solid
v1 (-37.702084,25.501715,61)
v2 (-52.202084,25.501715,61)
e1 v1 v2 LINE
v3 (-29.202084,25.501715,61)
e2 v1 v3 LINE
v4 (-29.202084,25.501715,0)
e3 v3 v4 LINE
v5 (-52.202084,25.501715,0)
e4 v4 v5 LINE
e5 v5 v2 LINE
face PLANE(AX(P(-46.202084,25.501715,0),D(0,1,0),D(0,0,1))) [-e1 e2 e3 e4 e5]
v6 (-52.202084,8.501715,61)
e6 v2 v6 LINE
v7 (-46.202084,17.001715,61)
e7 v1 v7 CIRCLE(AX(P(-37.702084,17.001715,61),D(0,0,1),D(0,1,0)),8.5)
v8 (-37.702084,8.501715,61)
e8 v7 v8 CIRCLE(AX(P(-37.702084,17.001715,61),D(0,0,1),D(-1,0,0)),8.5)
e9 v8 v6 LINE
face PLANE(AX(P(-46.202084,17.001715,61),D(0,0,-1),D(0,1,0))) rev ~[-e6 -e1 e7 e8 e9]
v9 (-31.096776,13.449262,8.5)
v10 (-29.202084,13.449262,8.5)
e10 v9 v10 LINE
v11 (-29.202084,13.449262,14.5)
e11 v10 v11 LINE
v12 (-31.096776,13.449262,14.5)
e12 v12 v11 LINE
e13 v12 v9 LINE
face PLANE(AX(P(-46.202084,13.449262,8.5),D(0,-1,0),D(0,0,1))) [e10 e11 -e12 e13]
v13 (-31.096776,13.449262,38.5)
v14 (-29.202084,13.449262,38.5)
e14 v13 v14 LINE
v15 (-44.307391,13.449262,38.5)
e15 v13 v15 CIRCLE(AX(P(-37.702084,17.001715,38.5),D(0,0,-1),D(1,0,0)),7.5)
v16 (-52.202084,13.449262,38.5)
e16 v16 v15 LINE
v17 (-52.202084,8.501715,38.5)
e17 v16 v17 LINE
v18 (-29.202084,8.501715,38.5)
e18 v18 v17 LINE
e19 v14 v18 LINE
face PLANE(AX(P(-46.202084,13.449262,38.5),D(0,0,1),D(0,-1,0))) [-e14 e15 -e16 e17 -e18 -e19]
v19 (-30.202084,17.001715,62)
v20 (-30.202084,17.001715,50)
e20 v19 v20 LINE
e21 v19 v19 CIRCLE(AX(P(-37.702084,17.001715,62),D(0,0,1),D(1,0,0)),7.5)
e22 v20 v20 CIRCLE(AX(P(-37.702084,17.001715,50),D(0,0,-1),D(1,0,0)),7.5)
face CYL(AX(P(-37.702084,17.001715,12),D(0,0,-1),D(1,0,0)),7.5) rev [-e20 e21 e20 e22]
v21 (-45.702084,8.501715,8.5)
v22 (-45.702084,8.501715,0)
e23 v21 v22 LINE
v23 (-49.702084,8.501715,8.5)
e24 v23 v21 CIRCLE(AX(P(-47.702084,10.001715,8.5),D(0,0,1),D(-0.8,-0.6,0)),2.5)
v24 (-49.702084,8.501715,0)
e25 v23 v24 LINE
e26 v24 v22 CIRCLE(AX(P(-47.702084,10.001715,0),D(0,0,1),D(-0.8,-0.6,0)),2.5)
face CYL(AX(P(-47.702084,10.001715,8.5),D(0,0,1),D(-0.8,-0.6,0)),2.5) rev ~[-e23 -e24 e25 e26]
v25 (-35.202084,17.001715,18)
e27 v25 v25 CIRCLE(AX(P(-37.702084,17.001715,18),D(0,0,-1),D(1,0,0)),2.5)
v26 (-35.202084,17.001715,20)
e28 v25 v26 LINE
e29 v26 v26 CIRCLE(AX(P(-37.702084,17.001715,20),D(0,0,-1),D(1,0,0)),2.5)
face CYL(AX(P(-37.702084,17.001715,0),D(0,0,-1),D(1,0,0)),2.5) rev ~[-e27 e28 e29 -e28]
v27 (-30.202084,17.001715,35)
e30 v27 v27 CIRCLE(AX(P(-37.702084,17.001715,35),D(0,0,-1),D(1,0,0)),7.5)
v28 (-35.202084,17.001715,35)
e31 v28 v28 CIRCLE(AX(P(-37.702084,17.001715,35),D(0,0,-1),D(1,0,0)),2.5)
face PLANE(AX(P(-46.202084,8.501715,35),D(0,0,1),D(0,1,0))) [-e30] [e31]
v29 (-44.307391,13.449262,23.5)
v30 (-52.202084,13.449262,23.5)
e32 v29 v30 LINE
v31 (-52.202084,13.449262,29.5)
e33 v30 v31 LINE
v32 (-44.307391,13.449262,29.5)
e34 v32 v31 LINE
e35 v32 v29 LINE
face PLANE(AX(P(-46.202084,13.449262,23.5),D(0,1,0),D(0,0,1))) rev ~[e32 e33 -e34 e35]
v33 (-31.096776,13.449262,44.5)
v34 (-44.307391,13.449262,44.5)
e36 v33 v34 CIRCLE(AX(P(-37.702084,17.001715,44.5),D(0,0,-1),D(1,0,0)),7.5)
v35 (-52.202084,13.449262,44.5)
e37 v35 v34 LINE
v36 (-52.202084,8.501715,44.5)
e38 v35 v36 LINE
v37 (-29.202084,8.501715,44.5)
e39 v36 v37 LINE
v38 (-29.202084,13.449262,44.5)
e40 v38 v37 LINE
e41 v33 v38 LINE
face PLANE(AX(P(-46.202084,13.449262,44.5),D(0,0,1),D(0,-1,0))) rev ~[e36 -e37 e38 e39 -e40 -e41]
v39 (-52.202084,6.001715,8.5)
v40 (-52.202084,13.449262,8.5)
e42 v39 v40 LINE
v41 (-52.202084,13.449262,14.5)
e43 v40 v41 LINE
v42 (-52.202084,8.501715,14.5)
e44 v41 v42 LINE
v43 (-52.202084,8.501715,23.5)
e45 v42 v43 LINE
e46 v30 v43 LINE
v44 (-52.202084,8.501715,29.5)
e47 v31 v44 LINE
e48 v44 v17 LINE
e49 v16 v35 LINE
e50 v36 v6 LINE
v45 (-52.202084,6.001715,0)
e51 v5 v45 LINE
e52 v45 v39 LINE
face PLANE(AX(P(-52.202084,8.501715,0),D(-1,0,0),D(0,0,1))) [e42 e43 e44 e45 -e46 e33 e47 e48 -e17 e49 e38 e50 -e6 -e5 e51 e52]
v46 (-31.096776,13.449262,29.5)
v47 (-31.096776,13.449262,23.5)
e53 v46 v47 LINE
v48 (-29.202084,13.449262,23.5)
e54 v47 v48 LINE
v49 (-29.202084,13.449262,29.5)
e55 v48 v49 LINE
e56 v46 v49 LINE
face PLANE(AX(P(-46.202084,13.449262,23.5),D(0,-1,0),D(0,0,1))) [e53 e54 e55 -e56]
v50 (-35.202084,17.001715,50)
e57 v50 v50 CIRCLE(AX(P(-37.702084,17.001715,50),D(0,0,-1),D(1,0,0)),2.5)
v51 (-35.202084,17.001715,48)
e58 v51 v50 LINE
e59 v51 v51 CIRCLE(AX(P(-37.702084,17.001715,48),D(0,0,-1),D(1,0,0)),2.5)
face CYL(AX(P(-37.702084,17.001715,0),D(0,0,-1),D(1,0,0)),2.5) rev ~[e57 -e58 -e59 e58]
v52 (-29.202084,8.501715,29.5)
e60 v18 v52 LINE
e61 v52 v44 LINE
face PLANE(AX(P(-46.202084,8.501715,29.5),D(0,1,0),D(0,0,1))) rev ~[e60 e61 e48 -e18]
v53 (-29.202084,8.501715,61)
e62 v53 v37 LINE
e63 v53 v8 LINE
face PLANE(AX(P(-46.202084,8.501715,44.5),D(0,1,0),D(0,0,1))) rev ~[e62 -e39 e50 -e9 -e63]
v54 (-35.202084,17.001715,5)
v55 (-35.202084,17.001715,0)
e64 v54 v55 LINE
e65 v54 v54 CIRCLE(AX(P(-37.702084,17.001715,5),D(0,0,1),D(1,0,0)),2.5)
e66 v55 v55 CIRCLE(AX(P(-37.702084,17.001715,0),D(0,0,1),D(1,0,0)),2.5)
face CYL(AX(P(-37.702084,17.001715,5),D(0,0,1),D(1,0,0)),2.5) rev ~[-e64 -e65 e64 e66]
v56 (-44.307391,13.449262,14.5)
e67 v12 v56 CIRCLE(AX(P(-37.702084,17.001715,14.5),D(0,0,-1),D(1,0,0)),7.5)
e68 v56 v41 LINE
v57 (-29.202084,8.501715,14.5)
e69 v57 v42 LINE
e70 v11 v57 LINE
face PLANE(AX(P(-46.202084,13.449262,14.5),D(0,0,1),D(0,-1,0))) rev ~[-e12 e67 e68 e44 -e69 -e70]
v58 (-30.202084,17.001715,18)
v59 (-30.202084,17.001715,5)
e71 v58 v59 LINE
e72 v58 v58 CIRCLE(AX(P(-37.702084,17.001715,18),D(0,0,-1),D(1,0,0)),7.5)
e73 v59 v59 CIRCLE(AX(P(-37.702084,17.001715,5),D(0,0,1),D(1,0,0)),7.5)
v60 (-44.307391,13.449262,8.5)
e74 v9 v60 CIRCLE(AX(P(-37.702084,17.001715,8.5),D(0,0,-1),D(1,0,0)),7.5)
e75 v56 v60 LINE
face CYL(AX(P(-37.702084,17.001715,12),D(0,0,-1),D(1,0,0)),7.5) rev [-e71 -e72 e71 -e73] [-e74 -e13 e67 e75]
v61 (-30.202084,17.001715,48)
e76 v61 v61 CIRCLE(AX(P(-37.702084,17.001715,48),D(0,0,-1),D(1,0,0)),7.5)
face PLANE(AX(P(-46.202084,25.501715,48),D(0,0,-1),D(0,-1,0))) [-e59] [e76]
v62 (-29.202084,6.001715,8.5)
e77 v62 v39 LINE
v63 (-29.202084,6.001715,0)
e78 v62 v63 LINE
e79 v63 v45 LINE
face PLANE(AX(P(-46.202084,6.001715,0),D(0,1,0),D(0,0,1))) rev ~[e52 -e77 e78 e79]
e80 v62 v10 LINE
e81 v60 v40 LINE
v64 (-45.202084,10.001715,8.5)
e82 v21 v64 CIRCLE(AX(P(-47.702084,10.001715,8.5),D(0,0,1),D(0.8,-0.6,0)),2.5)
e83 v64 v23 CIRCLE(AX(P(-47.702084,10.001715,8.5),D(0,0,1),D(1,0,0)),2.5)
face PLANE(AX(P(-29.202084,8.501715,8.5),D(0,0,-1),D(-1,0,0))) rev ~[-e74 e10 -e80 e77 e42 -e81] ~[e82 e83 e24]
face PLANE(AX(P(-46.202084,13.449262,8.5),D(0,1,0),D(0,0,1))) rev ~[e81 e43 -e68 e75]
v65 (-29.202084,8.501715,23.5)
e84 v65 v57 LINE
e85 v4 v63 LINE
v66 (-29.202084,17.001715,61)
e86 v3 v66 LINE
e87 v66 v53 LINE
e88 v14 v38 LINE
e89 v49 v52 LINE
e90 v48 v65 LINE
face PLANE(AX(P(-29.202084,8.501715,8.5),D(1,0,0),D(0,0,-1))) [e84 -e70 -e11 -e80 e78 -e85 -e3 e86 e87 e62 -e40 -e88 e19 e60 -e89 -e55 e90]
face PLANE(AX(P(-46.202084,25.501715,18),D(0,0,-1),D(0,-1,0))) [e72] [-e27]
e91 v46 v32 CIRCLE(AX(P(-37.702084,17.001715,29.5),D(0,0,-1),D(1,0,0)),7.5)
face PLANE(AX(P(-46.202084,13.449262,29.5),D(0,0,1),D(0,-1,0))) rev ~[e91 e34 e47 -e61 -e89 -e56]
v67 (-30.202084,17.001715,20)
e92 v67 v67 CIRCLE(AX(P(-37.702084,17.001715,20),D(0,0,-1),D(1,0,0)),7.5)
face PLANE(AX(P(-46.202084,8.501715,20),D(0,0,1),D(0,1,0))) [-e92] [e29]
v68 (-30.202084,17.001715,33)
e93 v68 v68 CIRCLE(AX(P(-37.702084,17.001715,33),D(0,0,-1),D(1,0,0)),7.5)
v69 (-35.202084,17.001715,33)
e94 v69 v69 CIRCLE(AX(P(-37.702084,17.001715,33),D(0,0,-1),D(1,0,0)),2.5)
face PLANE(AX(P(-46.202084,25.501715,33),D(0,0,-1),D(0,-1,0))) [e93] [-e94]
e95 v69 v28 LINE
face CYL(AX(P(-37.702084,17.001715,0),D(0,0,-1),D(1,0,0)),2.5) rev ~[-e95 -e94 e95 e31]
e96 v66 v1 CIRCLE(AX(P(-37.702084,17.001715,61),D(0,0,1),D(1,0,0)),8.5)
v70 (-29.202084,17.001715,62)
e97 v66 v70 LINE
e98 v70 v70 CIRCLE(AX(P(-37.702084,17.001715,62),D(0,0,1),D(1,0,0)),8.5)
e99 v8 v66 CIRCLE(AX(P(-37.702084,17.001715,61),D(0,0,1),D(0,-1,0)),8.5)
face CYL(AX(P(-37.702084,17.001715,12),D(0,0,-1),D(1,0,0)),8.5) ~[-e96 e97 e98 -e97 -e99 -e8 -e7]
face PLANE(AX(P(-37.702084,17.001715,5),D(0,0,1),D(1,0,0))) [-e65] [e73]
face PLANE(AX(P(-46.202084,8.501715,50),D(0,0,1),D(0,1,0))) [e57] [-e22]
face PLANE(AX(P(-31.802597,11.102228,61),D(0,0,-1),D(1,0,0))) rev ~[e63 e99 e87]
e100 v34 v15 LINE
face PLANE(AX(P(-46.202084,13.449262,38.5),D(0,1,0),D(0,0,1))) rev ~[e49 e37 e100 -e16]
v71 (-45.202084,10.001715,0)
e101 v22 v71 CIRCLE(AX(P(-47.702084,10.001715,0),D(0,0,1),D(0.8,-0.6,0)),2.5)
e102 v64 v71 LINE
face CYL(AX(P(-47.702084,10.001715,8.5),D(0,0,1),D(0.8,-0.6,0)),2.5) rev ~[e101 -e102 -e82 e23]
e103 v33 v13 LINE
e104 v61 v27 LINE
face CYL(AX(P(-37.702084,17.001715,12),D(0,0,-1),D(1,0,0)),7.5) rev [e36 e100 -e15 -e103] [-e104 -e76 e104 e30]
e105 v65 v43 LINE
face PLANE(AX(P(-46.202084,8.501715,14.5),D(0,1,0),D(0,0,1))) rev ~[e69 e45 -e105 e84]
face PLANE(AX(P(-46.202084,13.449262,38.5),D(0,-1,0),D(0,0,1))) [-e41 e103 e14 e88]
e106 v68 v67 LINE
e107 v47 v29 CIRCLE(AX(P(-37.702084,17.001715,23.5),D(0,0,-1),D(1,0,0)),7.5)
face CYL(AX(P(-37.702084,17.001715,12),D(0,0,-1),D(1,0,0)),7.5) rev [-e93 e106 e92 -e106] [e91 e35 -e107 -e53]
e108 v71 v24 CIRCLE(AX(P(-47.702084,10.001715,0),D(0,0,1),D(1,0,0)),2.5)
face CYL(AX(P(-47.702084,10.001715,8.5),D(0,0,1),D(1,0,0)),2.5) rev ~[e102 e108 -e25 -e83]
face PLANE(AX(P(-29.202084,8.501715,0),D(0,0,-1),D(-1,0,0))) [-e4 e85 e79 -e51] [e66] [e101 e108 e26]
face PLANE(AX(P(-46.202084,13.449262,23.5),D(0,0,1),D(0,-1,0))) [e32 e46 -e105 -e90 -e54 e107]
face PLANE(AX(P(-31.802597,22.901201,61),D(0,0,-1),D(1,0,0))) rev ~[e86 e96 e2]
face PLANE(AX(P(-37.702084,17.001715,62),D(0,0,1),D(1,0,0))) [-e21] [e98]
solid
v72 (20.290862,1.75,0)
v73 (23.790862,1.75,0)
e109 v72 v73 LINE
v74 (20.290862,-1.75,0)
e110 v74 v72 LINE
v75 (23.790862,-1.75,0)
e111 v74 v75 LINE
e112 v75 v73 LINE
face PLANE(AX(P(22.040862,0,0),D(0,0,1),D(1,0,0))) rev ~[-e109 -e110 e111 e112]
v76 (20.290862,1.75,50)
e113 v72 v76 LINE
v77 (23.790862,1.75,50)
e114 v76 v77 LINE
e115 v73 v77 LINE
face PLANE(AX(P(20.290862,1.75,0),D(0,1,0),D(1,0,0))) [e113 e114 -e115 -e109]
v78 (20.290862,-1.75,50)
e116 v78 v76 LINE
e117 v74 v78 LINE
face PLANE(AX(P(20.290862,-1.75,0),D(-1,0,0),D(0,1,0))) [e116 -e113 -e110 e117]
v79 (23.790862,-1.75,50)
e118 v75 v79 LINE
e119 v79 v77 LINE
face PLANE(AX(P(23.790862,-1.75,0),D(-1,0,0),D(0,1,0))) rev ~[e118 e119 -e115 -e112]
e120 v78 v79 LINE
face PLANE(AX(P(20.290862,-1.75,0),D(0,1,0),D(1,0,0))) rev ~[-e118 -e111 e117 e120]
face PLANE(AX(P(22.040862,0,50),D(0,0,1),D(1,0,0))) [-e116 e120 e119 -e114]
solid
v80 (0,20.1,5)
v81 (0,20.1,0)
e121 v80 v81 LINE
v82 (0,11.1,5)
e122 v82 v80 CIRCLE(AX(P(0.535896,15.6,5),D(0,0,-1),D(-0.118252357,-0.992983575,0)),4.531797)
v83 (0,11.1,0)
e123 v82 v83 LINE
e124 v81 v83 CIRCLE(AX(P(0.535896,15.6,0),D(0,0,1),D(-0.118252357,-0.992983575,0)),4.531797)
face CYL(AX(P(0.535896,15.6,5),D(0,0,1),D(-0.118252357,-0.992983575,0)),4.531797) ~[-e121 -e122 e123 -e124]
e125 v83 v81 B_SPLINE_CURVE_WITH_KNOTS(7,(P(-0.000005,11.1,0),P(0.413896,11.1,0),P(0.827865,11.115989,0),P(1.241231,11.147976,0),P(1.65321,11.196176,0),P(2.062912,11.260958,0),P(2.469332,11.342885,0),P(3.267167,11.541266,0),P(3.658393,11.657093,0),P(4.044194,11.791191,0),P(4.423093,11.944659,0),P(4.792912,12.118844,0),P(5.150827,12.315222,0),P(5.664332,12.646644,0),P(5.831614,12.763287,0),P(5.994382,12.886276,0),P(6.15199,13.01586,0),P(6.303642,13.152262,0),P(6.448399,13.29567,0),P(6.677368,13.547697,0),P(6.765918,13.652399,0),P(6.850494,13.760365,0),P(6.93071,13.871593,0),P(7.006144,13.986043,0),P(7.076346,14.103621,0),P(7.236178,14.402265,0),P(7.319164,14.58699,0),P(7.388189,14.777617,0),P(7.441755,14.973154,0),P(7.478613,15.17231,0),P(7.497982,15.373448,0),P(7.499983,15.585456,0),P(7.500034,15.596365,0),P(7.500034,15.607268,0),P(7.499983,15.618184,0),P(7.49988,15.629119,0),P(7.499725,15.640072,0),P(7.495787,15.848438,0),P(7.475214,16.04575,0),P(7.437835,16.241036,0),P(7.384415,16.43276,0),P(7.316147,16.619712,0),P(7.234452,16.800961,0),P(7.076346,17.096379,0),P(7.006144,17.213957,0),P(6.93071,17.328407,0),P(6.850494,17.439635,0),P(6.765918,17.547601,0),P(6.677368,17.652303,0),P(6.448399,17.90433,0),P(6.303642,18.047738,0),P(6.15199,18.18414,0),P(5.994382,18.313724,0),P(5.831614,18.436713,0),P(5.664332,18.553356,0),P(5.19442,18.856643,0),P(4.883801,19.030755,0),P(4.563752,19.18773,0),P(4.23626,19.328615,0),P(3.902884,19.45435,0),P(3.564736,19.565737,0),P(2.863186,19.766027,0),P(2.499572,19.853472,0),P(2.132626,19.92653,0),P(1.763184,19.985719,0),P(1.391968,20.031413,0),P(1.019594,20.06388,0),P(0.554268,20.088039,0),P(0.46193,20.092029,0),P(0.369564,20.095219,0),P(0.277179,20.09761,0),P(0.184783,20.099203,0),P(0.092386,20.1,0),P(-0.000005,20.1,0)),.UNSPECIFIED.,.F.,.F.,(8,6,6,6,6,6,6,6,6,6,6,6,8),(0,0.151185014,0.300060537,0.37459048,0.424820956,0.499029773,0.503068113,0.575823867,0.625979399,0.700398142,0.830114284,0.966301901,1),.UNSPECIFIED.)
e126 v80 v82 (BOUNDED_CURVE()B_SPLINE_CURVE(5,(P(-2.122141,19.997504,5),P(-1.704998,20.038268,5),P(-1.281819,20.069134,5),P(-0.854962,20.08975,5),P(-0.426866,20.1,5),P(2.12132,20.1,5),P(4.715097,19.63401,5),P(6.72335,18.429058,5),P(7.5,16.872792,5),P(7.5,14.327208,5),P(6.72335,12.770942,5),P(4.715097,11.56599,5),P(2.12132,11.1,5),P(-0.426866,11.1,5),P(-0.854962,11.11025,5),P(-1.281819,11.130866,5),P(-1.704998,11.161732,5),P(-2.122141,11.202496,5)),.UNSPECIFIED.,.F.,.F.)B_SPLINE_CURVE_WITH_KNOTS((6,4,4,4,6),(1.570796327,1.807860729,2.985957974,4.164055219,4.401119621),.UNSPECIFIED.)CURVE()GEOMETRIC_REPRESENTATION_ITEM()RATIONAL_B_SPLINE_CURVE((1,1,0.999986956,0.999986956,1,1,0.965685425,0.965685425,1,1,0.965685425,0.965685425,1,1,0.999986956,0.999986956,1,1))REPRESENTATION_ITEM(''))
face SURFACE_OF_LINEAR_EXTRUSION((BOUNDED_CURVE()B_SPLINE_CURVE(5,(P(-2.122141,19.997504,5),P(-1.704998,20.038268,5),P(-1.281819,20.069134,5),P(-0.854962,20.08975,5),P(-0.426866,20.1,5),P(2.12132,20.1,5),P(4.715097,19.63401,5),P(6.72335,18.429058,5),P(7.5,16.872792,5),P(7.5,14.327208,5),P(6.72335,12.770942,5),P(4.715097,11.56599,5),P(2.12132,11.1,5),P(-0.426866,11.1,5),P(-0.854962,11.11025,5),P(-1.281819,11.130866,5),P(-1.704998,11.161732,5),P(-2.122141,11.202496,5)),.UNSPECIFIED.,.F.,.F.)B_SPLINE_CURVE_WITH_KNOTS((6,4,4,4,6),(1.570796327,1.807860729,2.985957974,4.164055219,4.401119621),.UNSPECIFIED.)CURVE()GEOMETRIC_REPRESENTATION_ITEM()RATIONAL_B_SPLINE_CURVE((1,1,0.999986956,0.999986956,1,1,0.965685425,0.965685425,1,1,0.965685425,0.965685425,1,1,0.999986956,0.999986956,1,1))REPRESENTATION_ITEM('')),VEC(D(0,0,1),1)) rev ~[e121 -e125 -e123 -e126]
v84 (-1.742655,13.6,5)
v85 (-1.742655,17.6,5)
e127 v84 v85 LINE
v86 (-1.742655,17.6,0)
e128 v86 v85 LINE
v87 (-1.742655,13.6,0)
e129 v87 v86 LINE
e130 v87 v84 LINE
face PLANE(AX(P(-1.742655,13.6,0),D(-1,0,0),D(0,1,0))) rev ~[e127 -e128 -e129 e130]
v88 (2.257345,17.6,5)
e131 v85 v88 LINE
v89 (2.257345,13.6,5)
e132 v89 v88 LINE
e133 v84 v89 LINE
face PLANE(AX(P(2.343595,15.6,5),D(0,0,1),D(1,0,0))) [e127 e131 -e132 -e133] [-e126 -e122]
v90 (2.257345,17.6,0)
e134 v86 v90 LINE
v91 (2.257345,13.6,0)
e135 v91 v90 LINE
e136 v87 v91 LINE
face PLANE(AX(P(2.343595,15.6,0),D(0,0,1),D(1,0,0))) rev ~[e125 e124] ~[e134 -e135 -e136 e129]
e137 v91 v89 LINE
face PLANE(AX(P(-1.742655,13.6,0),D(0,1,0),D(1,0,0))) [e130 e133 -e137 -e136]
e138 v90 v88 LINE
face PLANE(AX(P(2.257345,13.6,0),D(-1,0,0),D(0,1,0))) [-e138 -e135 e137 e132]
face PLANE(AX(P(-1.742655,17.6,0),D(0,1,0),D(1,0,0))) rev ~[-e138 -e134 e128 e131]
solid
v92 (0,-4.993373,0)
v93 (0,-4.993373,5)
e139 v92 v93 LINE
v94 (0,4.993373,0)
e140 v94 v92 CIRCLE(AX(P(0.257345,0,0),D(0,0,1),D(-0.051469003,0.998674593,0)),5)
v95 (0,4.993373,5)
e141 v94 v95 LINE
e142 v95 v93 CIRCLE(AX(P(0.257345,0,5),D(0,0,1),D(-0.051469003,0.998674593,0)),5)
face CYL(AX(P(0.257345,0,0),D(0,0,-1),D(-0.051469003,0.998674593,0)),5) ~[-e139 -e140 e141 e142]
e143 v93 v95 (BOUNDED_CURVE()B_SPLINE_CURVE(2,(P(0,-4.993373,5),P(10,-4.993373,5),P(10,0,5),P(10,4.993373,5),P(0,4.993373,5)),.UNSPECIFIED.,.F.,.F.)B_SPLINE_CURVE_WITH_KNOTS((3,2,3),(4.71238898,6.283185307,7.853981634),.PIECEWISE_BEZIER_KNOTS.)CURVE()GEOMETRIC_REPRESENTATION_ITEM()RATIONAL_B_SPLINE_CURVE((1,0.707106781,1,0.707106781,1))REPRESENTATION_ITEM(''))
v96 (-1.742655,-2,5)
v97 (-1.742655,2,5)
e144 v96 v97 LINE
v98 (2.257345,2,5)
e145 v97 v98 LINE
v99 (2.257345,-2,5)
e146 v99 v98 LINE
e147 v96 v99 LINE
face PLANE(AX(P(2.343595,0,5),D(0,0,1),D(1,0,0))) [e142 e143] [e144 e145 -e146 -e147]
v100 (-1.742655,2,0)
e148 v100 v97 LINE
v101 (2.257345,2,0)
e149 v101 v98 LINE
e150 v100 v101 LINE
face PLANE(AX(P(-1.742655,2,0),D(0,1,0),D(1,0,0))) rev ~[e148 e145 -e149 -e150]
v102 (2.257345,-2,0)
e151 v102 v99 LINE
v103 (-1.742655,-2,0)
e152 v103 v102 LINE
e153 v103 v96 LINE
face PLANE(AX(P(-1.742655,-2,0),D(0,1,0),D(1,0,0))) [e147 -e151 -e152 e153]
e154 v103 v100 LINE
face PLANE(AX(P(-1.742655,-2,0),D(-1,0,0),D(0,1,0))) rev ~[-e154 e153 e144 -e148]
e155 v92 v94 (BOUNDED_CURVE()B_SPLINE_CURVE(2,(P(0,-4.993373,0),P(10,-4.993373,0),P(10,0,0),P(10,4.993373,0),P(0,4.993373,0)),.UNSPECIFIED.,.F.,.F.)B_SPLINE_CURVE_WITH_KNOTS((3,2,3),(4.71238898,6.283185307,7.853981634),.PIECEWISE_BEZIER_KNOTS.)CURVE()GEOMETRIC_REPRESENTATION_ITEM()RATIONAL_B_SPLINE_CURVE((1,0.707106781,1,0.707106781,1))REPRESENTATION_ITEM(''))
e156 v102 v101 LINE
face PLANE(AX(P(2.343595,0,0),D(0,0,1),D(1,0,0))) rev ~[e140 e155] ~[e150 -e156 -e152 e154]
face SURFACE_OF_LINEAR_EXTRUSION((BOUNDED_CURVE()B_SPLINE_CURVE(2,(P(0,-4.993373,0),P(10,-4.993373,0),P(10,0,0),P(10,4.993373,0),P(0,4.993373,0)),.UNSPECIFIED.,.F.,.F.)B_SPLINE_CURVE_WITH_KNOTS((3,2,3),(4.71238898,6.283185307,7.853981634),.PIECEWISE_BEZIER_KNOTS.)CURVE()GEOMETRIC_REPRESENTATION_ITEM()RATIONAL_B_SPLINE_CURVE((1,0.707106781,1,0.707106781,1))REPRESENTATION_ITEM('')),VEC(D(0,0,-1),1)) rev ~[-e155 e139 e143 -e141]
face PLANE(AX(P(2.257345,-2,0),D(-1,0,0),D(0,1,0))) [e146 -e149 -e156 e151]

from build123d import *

# Parameters (mm, degrees)
F0_W           = 4
F0_H           = 4
F1_DEPTH       = 5
F2_W           = 3.5
F2_H           = 3.5
F3_DEPTH       = 50
F6_DEPTH       = 25
F7_R           = 7.5
F8_DEPTH       = 5
F9_R           = 2.5
F10_DEPTH      = 5.0010001
F10_DEPTH_BACK = 45.001
F11_R          = 8.5
F11_R_2        = 7.5
F12_DEPTH      = 7
F12_DEPTH_BACK = 5
F14_DEPTH      = 11
F16_DEPTH      = 50
F17_DEPTH      = 50
F19_DEPTH      = 17
F18_W          = 4.9475478008
F18_H          = 6
F20_DEPTH      = 25
F21_R          = 2.5
F22_DEPTH      = 62.001
F24_W          = 40.9381370991
F24_H          = 29.6913962811
F24_W_2        = 36.4394430071
F24_H_2        = 22.0436118543
F25_DEPTH      = 25
F26_DEPTH      = 5
F28_DEPTH      = 6
F30_DEPTH      = 2.5
F31_DEPTH      = 8.5010001


with BuildPart() as f1:
    # F0 (on Top) → F1 (new body)
    with BuildSketch(Plane.XY):
        with BuildLine():
            ThreePointArc((0, 4.9933729626), (-4.742654986, 0), (0, -4.9933729626))
            add(Edge.make_bspline(
                [(0, -4.9933729626), (10, -4.9933729626), (10, 0), (10, 4.9933729626), (0, 4.9933729626)],
                knots=[4.7123889804, 4.7123889804, 4.7123889804, 6.2831853072, 6.2831853072, 7.853981634, 7.853981634, 7.853981634], degree=2, weights=[1, 0.7071067812, 1, 0.7071067812, 1]))
        make_face()
        with Locations((0.257345014, 0)):
            Rectangle(F0_W, F0_H, mode=Mode.SUBTRACT)
    extrude(amount=F1_DEPTH)


with BuildPart() as f3:
    # F2 (on Top) → F3 (new body)
    with BuildSketch(Plane.XY):
        with Locations((22.040861788, 0)):
            Rectangle(F2_W, F2_H)
    extrude(amount=F3_DEPTH)


with BuildPart() as f4_1:
    # F4: copy of F1
    add(f1.part.moved(Location((0, 15.6, 0))))

    # F5 (on face) → F6 (cut)
    with BuildSketch(Plane.XY.offset(5)):
        with BuildLine():
            add(Edge.make_bspline(
                [(0, 11.1), (10, 11.1), (10, 15.6)],
                knots=[4.7123889804, 4.7123889804, 4.7123889804, 6.2831853072, 6.2831853072, 6.2831853072], degree=2, weights=[1, 0.7071067812, 1]))
            add(Edge.make_bspline(
                [(10, 15.6), (10, 20.1), (0, 20.1)],
                knots=[0, 0, 0, 1.5707963268, 1.5707963268, 1.5707963268], degree=2, weights=[1, 0.7071067812, 1]))
            add(Edge.make_bspline(
                [(0, 11.1), (7.5, 11.1), (7.5, 15.6), (7.5, 20.1), (0, 20.1)],
                knots=[4.7123889804, 4.7123889804, 4.7123889804, 6.2831853072, 6.2831853072, 7.853981634, 7.853981634, 7.853981634], degree=2, weights=[1, 0.7071067812, 1, 0.7071067812, 1]))
        make_face()
        with BuildLine():
            add(Edge.make_bspline(
                [(10, 15.6), (10, 20.1), (0, 20.1)],
                knots=[0, 0, 0, 1.5707963268, 1.5707963268, 1.5707963268], degree=2, weights=[1, 0.7071067812, 1]))
            add(Edge.make_bspline(
                [(10, 15.6), (10, 20.5933729626), (0, 20.5933729626)],
                knots=[6.2831853072, 6.2831853072, 6.2831853072, 7.853981634, 7.853981634, 7.853981634], degree=2, weights=[1, 0.7071067812, 1]))
            ThreePointArc((0, 20.5933729626), (-1.0943150122, 20.4138358066), (-2.1221413846, 19.9975043466))
            add(Edge.make_bspline(
                [(0, 20.1), (-1.0732937978, 20.1), (-2.1221413846, 19.9975043466)],
                knots=[1.5707963268, 1.5707963268, 1.5707963268, 1.7846364763, 1.7846364763, 1.7846364763], degree=2, weights=[1, 0.9942894921, 1]))
        make_face()
        with BuildLine():
            add(Edge.make_bspline(
                [(0, 10.6066270374), (10, 10.6066270374), (10, 15.6)],
                knots=[4.7123889804, 4.7123889804, 4.7123889804, 6.2831853072, 6.2831853072, 6.2831853072], degree=2, weights=[1, 0.7071067812, 1]))
            add(Edge.make_bspline(
                [(0, 11.1), (10, 11.1), (10, 15.6)],
                knots=[4.7123889804, 4.7123889804, 4.7123889804, 6.2831853072, 6.2831853072, 6.2831853072], degree=2, weights=[1, 0.7071067812, 1]))
            add(Edge.make_bspline(
                [(-2.1221413846, 11.2024956534), (-1.0732937978, 11.1), (0, 11.1)],
                knots=[4.4985488309, 4.4985488309, 4.4985488309, 4.7123889804, 4.7123889804, 4.7123889804], degree=2, weights=[1, 0.9942894921, 1]))
            ThreePointArc((-2.1221413846, 11.2024956534), (-1.0943150122, 10.7861641934), (0, 10.6066270374))
        make_face()
        with BuildLine():
            ThreePointArc((0, 11.1), (-3.9959013346, 15.6), (0, 20.1))
            add(Edge.make_bspline(
                [(0, 20.1), (-1.0732937978, 20.1), (-2.1221413846, 19.9975043466)],
                knots=[1.5707963268, 1.5707963268, 1.5707963268, 1.7846364763, 1.7846364763, 1.7846364763], degree=2, weights=[1, 0.9942894921, 1]))
            ThreePointArc((-2.1221413846, 19.9975043466), (-4.742654986, 15.6), (-2.1221413846, 11.2024956534))
            add(Edge.make_bspline(
                [(-2.1221413846, 11.2024956534), (-1.0732937978, 11.1), (0, 11.1)],
                knots=[4.4985488309, 4.4985488309, 4.4985488309, 4.7123889804, 4.7123889804, 4.7123889804], degree=2, weights=[1, 0.9942894921, 1]))
        make_face()
    extrude(amount=-F6_DEPTH, mode=Mode.SUBTRACT)


with BuildPart() as f8:
    # F7 (on Top) → F8 (new body)
    with BuildSketch(Plane.XY):
        with Locations((-37.7020835876, 17.0017145574)):
            Circle(F7_R)
    extrude(amount=F8_DEPTH)

    # F9 (on face) → F10 (cut, two sides)
    with BuildSketch(Plane.XY.offset(5)) as f10_sk:
        with Locations((-37.7020835876, 17.0017145574)):
            Circle(F9_R)
    extrude(amount=-F10_DEPTH, mode=Mode.SUBTRACT)
    extrude(f10_sk.sketch, amount=F10_DEPTH_BACK, mode=Mode.SUBTRACT)

    # F11 (on face) → F12 (join, two sides)
    with BuildSketch(Plane.XY.offset(5)) as f12_sk:
        with Locations((-37.7020835876, 17.0017145574)):
            Circle(F11_R)
        with Locations((-37.7020835876, 17.0017145574)):
            Circle(F11_R_2, mode=Mode.SUBTRACT)
    extrude(amount=F12_DEPTH)
    extrude(f12_sk.sketch, amount=-F12_DEPTH_BACK)

    # F13 (on face) → F14 (join)
    with BuildSketch(Plane(origin=(0, 0, 0), x_dir=(1, 0, 0), z_dir=(0, 0, -1))):
        with BuildLine():
            Line((-37.7020835876, -25.5017145574), (-29.2020835876, -25.5017145574))
            Line((-29.2020835876, -25.5017145574), (-29.2020835876, -17.0017145574))
            ThreePointArc((-29.2020835876, -17.0017145574), (-31.6916759476, -23.0121221975), (-37.7020835876, -25.5017145574))
        make_face()
        with BuildLine():
            Line((-46.2020835876, -25.5017145574), (-37.7020835876, -25.5017145574))
            ThreePointArc((-37.7020835876, -25.5017145574), (-43.7124912277, -23.0121221975), (-46.2020835876, -17.0017145574))
            Line((-46.2020835876, -17.0017145574), (-46.2020835876, -25.5017145574))
        make_face()
        with BuildLine():
            ThreePointArc((-37.7020835876, -8.5017145574), (-31.6916759476, -10.9913069173), (-29.2020835876, -17.0017145574))
            Line((-29.2020835876, -17.0017145574), (-29.2020835876, -8.5017145574))
            Line((-29.2020835876, -8.5017145574), (-37.7020835876, -8.5017145574))
        make_face()
        with BuildLine():
            Line((-46.2020835876, -8.5017145574), (-46.2020835876, -17.0017145574))
            ThreePointArc((-46.2020835876, -17.0017145574), (-43.7124912277, -10.9913069173), (-37.7020835876, -8.5017145574))
            Line((-37.7020835876, -8.5017145574), (-46.2020835876, -8.5017145574))
        make_face()
    extrude(amount=-F14_DEPTH)

    # F16 (add): a face of the model
    f16_faces = [f8.faces().sort_by_distance(p)[0] for p in [
        (-45.961667282, 17.0017145574, 12),
    ]]
    extrude(f16_faces, amount=F16_DEPTH)

    # F17 (add): faces of the model
    f17_faces = [f8.faces().sort_by_distance(p)[0] for p in [
        (-44.3034561066, 23.6030870764, 11),
        (-44.3034561066, 10.4003420384, 11),
        (-31.1007110687, 10.4003420384, 11),
        (-31.1007110687, 23.6030870764, 11),
    ]]
    extrude(f17_faces, amount=F17_DEPTH)

    # F18 (on face) → F19 (join)
    with BuildSketch(Plane(origin=(-46.2020835876, 0, 0), x_dir=(0, -1, 0), z_dir=(-1, 0, 0))):
        Polygon((-13.4492623582, 18), (-8.5017145574, 18), (-8.5017145574, 20), (-13.4492623582, 20), (-25.5017145574, 20), (-25.5017145574, 18), align=None)
        Polygon((-13.4492623582, 48), (-8.5017145574, 48), (-8.5017145574, 50), (-25.5017145574, 50), (-25.5017145574, 48), align=None)
        Polygon((-13.4492623582, 33), (-8.5017145574, 33), (-8.5017145574, 35), (-13.4492623582, 35), (-25.5017145574, 35), (-25.5017145574, 33), align=None)
    extrude(amount=-F19_DEPTH)

    # F18 (on face) → F20 (cut)
    with BuildSketch(Plane(origin=(-46.2020835876, 0, 0), x_dir=(0, -1, 0), z_dir=(-1, 0, 0))):
        with Locations((-10.9754884578, 41.5)):
            Rectangle(F18_W, F18_H)
        with Locations((-10.9754884578, 26.5)):
            Rectangle(F18_W, F18_H)
        with Locations((-10.9754884578, 11.5)):
            Rectangle(F18_W, F18_H)
    extrude(amount=-F20_DEPTH, mode=Mode.SUBTRACT)

    # F21 (on face) → F22 (cut, through all)
    with BuildSketch(Plane(origin=(0, 0, 0), x_dir=(1, 0, 0), z_dir=(0, 0, -1))):
        with Locations((-37.7020835876, -17.0017145574)):
            Circle(F21_R)
    extrude(amount=-F22_DEPTH, mode=Mode.SUBTRACT)


with BuildPart() as f23_1:
    # F23: copy of F8
    add(f8.part.moved(Location((0, 0, -75))))

    # F24 (on face) → F25 (cut)
    with BuildSketch(Plane.XZ.offset(-8.5017145574)):
        with Locations((-40.3531985357, -23.1816293672)):
            Rectangle(F24_W, F24_H)
        with Locations((-38.1038514897, -68.3935303241)):
            Rectangle(F24_W_2, F24_H_2)
    extrude(amount=-F25_DEPTH, mode=Mode.SUBTRACT)

    # F26 (add): a face of the model
    f26_faces = [f23_1.faces().sort_by_distance(p)[0] for p in [
        (-46.2020835876, 17.5996708125, -47.6200983876),
    ]]
    extrude(f26_faces, amount=F26_DEPTH)


with BuildPart() as f8_1:
    add(f8.part)

    # F28 (add): a face of the model
    f28_faces = [f8_1.faces().sort_by_distance(p)[0] for p in [
        (-46.2020835876, 17.5678563035, 30.8757852671),
    ]]
    extrude(f28_faces, amount=F28_DEPTH)

    # F30 (add): a face of the model
    f30_faces = [f8_1.faces().sort_by_distance(p)[0] for p in [
        (-40.7020835876, 8.5017145574, 4.25),
    ]]
    extrude(f30_faces, amount=F30_DEPTH)

    # F29 (on face) → F31 (cut, through all)
    with BuildSketch(Plane.XY.offset(8.5)):
        with BuildLine():
            ThreePointArc((-45.7020835876, 8.5017145574), (-45.3303753425, 9.2111451424), (-45.2020835876, 10.0017145574))
            ThreePointArc((-45.2020835876, 10.0017145574), (-48.4926530027, 12.3734228025), (-49.7020835876, 8.5017145574))
            Line((-49.7020835876, 8.5017145574), (-45.7020835876, 8.5017145574))
        make_face()
        with BuildLine():
            Line((-45.7020835876, 8.5017145574), (-49.7020835876, 8.5017145574))
            ThreePointArc((-49.7020835876, 8.5017145574), (-47.7020835876, 7.5017145574), (-45.7020835876, 8.5017145574))
        make_face()
    extrude(amount=-F31_DEPTH, mode=Mode.SUBTRACT)


solid = Compound([f1.part, f3.part, f4_1.part, f8_1.part])
